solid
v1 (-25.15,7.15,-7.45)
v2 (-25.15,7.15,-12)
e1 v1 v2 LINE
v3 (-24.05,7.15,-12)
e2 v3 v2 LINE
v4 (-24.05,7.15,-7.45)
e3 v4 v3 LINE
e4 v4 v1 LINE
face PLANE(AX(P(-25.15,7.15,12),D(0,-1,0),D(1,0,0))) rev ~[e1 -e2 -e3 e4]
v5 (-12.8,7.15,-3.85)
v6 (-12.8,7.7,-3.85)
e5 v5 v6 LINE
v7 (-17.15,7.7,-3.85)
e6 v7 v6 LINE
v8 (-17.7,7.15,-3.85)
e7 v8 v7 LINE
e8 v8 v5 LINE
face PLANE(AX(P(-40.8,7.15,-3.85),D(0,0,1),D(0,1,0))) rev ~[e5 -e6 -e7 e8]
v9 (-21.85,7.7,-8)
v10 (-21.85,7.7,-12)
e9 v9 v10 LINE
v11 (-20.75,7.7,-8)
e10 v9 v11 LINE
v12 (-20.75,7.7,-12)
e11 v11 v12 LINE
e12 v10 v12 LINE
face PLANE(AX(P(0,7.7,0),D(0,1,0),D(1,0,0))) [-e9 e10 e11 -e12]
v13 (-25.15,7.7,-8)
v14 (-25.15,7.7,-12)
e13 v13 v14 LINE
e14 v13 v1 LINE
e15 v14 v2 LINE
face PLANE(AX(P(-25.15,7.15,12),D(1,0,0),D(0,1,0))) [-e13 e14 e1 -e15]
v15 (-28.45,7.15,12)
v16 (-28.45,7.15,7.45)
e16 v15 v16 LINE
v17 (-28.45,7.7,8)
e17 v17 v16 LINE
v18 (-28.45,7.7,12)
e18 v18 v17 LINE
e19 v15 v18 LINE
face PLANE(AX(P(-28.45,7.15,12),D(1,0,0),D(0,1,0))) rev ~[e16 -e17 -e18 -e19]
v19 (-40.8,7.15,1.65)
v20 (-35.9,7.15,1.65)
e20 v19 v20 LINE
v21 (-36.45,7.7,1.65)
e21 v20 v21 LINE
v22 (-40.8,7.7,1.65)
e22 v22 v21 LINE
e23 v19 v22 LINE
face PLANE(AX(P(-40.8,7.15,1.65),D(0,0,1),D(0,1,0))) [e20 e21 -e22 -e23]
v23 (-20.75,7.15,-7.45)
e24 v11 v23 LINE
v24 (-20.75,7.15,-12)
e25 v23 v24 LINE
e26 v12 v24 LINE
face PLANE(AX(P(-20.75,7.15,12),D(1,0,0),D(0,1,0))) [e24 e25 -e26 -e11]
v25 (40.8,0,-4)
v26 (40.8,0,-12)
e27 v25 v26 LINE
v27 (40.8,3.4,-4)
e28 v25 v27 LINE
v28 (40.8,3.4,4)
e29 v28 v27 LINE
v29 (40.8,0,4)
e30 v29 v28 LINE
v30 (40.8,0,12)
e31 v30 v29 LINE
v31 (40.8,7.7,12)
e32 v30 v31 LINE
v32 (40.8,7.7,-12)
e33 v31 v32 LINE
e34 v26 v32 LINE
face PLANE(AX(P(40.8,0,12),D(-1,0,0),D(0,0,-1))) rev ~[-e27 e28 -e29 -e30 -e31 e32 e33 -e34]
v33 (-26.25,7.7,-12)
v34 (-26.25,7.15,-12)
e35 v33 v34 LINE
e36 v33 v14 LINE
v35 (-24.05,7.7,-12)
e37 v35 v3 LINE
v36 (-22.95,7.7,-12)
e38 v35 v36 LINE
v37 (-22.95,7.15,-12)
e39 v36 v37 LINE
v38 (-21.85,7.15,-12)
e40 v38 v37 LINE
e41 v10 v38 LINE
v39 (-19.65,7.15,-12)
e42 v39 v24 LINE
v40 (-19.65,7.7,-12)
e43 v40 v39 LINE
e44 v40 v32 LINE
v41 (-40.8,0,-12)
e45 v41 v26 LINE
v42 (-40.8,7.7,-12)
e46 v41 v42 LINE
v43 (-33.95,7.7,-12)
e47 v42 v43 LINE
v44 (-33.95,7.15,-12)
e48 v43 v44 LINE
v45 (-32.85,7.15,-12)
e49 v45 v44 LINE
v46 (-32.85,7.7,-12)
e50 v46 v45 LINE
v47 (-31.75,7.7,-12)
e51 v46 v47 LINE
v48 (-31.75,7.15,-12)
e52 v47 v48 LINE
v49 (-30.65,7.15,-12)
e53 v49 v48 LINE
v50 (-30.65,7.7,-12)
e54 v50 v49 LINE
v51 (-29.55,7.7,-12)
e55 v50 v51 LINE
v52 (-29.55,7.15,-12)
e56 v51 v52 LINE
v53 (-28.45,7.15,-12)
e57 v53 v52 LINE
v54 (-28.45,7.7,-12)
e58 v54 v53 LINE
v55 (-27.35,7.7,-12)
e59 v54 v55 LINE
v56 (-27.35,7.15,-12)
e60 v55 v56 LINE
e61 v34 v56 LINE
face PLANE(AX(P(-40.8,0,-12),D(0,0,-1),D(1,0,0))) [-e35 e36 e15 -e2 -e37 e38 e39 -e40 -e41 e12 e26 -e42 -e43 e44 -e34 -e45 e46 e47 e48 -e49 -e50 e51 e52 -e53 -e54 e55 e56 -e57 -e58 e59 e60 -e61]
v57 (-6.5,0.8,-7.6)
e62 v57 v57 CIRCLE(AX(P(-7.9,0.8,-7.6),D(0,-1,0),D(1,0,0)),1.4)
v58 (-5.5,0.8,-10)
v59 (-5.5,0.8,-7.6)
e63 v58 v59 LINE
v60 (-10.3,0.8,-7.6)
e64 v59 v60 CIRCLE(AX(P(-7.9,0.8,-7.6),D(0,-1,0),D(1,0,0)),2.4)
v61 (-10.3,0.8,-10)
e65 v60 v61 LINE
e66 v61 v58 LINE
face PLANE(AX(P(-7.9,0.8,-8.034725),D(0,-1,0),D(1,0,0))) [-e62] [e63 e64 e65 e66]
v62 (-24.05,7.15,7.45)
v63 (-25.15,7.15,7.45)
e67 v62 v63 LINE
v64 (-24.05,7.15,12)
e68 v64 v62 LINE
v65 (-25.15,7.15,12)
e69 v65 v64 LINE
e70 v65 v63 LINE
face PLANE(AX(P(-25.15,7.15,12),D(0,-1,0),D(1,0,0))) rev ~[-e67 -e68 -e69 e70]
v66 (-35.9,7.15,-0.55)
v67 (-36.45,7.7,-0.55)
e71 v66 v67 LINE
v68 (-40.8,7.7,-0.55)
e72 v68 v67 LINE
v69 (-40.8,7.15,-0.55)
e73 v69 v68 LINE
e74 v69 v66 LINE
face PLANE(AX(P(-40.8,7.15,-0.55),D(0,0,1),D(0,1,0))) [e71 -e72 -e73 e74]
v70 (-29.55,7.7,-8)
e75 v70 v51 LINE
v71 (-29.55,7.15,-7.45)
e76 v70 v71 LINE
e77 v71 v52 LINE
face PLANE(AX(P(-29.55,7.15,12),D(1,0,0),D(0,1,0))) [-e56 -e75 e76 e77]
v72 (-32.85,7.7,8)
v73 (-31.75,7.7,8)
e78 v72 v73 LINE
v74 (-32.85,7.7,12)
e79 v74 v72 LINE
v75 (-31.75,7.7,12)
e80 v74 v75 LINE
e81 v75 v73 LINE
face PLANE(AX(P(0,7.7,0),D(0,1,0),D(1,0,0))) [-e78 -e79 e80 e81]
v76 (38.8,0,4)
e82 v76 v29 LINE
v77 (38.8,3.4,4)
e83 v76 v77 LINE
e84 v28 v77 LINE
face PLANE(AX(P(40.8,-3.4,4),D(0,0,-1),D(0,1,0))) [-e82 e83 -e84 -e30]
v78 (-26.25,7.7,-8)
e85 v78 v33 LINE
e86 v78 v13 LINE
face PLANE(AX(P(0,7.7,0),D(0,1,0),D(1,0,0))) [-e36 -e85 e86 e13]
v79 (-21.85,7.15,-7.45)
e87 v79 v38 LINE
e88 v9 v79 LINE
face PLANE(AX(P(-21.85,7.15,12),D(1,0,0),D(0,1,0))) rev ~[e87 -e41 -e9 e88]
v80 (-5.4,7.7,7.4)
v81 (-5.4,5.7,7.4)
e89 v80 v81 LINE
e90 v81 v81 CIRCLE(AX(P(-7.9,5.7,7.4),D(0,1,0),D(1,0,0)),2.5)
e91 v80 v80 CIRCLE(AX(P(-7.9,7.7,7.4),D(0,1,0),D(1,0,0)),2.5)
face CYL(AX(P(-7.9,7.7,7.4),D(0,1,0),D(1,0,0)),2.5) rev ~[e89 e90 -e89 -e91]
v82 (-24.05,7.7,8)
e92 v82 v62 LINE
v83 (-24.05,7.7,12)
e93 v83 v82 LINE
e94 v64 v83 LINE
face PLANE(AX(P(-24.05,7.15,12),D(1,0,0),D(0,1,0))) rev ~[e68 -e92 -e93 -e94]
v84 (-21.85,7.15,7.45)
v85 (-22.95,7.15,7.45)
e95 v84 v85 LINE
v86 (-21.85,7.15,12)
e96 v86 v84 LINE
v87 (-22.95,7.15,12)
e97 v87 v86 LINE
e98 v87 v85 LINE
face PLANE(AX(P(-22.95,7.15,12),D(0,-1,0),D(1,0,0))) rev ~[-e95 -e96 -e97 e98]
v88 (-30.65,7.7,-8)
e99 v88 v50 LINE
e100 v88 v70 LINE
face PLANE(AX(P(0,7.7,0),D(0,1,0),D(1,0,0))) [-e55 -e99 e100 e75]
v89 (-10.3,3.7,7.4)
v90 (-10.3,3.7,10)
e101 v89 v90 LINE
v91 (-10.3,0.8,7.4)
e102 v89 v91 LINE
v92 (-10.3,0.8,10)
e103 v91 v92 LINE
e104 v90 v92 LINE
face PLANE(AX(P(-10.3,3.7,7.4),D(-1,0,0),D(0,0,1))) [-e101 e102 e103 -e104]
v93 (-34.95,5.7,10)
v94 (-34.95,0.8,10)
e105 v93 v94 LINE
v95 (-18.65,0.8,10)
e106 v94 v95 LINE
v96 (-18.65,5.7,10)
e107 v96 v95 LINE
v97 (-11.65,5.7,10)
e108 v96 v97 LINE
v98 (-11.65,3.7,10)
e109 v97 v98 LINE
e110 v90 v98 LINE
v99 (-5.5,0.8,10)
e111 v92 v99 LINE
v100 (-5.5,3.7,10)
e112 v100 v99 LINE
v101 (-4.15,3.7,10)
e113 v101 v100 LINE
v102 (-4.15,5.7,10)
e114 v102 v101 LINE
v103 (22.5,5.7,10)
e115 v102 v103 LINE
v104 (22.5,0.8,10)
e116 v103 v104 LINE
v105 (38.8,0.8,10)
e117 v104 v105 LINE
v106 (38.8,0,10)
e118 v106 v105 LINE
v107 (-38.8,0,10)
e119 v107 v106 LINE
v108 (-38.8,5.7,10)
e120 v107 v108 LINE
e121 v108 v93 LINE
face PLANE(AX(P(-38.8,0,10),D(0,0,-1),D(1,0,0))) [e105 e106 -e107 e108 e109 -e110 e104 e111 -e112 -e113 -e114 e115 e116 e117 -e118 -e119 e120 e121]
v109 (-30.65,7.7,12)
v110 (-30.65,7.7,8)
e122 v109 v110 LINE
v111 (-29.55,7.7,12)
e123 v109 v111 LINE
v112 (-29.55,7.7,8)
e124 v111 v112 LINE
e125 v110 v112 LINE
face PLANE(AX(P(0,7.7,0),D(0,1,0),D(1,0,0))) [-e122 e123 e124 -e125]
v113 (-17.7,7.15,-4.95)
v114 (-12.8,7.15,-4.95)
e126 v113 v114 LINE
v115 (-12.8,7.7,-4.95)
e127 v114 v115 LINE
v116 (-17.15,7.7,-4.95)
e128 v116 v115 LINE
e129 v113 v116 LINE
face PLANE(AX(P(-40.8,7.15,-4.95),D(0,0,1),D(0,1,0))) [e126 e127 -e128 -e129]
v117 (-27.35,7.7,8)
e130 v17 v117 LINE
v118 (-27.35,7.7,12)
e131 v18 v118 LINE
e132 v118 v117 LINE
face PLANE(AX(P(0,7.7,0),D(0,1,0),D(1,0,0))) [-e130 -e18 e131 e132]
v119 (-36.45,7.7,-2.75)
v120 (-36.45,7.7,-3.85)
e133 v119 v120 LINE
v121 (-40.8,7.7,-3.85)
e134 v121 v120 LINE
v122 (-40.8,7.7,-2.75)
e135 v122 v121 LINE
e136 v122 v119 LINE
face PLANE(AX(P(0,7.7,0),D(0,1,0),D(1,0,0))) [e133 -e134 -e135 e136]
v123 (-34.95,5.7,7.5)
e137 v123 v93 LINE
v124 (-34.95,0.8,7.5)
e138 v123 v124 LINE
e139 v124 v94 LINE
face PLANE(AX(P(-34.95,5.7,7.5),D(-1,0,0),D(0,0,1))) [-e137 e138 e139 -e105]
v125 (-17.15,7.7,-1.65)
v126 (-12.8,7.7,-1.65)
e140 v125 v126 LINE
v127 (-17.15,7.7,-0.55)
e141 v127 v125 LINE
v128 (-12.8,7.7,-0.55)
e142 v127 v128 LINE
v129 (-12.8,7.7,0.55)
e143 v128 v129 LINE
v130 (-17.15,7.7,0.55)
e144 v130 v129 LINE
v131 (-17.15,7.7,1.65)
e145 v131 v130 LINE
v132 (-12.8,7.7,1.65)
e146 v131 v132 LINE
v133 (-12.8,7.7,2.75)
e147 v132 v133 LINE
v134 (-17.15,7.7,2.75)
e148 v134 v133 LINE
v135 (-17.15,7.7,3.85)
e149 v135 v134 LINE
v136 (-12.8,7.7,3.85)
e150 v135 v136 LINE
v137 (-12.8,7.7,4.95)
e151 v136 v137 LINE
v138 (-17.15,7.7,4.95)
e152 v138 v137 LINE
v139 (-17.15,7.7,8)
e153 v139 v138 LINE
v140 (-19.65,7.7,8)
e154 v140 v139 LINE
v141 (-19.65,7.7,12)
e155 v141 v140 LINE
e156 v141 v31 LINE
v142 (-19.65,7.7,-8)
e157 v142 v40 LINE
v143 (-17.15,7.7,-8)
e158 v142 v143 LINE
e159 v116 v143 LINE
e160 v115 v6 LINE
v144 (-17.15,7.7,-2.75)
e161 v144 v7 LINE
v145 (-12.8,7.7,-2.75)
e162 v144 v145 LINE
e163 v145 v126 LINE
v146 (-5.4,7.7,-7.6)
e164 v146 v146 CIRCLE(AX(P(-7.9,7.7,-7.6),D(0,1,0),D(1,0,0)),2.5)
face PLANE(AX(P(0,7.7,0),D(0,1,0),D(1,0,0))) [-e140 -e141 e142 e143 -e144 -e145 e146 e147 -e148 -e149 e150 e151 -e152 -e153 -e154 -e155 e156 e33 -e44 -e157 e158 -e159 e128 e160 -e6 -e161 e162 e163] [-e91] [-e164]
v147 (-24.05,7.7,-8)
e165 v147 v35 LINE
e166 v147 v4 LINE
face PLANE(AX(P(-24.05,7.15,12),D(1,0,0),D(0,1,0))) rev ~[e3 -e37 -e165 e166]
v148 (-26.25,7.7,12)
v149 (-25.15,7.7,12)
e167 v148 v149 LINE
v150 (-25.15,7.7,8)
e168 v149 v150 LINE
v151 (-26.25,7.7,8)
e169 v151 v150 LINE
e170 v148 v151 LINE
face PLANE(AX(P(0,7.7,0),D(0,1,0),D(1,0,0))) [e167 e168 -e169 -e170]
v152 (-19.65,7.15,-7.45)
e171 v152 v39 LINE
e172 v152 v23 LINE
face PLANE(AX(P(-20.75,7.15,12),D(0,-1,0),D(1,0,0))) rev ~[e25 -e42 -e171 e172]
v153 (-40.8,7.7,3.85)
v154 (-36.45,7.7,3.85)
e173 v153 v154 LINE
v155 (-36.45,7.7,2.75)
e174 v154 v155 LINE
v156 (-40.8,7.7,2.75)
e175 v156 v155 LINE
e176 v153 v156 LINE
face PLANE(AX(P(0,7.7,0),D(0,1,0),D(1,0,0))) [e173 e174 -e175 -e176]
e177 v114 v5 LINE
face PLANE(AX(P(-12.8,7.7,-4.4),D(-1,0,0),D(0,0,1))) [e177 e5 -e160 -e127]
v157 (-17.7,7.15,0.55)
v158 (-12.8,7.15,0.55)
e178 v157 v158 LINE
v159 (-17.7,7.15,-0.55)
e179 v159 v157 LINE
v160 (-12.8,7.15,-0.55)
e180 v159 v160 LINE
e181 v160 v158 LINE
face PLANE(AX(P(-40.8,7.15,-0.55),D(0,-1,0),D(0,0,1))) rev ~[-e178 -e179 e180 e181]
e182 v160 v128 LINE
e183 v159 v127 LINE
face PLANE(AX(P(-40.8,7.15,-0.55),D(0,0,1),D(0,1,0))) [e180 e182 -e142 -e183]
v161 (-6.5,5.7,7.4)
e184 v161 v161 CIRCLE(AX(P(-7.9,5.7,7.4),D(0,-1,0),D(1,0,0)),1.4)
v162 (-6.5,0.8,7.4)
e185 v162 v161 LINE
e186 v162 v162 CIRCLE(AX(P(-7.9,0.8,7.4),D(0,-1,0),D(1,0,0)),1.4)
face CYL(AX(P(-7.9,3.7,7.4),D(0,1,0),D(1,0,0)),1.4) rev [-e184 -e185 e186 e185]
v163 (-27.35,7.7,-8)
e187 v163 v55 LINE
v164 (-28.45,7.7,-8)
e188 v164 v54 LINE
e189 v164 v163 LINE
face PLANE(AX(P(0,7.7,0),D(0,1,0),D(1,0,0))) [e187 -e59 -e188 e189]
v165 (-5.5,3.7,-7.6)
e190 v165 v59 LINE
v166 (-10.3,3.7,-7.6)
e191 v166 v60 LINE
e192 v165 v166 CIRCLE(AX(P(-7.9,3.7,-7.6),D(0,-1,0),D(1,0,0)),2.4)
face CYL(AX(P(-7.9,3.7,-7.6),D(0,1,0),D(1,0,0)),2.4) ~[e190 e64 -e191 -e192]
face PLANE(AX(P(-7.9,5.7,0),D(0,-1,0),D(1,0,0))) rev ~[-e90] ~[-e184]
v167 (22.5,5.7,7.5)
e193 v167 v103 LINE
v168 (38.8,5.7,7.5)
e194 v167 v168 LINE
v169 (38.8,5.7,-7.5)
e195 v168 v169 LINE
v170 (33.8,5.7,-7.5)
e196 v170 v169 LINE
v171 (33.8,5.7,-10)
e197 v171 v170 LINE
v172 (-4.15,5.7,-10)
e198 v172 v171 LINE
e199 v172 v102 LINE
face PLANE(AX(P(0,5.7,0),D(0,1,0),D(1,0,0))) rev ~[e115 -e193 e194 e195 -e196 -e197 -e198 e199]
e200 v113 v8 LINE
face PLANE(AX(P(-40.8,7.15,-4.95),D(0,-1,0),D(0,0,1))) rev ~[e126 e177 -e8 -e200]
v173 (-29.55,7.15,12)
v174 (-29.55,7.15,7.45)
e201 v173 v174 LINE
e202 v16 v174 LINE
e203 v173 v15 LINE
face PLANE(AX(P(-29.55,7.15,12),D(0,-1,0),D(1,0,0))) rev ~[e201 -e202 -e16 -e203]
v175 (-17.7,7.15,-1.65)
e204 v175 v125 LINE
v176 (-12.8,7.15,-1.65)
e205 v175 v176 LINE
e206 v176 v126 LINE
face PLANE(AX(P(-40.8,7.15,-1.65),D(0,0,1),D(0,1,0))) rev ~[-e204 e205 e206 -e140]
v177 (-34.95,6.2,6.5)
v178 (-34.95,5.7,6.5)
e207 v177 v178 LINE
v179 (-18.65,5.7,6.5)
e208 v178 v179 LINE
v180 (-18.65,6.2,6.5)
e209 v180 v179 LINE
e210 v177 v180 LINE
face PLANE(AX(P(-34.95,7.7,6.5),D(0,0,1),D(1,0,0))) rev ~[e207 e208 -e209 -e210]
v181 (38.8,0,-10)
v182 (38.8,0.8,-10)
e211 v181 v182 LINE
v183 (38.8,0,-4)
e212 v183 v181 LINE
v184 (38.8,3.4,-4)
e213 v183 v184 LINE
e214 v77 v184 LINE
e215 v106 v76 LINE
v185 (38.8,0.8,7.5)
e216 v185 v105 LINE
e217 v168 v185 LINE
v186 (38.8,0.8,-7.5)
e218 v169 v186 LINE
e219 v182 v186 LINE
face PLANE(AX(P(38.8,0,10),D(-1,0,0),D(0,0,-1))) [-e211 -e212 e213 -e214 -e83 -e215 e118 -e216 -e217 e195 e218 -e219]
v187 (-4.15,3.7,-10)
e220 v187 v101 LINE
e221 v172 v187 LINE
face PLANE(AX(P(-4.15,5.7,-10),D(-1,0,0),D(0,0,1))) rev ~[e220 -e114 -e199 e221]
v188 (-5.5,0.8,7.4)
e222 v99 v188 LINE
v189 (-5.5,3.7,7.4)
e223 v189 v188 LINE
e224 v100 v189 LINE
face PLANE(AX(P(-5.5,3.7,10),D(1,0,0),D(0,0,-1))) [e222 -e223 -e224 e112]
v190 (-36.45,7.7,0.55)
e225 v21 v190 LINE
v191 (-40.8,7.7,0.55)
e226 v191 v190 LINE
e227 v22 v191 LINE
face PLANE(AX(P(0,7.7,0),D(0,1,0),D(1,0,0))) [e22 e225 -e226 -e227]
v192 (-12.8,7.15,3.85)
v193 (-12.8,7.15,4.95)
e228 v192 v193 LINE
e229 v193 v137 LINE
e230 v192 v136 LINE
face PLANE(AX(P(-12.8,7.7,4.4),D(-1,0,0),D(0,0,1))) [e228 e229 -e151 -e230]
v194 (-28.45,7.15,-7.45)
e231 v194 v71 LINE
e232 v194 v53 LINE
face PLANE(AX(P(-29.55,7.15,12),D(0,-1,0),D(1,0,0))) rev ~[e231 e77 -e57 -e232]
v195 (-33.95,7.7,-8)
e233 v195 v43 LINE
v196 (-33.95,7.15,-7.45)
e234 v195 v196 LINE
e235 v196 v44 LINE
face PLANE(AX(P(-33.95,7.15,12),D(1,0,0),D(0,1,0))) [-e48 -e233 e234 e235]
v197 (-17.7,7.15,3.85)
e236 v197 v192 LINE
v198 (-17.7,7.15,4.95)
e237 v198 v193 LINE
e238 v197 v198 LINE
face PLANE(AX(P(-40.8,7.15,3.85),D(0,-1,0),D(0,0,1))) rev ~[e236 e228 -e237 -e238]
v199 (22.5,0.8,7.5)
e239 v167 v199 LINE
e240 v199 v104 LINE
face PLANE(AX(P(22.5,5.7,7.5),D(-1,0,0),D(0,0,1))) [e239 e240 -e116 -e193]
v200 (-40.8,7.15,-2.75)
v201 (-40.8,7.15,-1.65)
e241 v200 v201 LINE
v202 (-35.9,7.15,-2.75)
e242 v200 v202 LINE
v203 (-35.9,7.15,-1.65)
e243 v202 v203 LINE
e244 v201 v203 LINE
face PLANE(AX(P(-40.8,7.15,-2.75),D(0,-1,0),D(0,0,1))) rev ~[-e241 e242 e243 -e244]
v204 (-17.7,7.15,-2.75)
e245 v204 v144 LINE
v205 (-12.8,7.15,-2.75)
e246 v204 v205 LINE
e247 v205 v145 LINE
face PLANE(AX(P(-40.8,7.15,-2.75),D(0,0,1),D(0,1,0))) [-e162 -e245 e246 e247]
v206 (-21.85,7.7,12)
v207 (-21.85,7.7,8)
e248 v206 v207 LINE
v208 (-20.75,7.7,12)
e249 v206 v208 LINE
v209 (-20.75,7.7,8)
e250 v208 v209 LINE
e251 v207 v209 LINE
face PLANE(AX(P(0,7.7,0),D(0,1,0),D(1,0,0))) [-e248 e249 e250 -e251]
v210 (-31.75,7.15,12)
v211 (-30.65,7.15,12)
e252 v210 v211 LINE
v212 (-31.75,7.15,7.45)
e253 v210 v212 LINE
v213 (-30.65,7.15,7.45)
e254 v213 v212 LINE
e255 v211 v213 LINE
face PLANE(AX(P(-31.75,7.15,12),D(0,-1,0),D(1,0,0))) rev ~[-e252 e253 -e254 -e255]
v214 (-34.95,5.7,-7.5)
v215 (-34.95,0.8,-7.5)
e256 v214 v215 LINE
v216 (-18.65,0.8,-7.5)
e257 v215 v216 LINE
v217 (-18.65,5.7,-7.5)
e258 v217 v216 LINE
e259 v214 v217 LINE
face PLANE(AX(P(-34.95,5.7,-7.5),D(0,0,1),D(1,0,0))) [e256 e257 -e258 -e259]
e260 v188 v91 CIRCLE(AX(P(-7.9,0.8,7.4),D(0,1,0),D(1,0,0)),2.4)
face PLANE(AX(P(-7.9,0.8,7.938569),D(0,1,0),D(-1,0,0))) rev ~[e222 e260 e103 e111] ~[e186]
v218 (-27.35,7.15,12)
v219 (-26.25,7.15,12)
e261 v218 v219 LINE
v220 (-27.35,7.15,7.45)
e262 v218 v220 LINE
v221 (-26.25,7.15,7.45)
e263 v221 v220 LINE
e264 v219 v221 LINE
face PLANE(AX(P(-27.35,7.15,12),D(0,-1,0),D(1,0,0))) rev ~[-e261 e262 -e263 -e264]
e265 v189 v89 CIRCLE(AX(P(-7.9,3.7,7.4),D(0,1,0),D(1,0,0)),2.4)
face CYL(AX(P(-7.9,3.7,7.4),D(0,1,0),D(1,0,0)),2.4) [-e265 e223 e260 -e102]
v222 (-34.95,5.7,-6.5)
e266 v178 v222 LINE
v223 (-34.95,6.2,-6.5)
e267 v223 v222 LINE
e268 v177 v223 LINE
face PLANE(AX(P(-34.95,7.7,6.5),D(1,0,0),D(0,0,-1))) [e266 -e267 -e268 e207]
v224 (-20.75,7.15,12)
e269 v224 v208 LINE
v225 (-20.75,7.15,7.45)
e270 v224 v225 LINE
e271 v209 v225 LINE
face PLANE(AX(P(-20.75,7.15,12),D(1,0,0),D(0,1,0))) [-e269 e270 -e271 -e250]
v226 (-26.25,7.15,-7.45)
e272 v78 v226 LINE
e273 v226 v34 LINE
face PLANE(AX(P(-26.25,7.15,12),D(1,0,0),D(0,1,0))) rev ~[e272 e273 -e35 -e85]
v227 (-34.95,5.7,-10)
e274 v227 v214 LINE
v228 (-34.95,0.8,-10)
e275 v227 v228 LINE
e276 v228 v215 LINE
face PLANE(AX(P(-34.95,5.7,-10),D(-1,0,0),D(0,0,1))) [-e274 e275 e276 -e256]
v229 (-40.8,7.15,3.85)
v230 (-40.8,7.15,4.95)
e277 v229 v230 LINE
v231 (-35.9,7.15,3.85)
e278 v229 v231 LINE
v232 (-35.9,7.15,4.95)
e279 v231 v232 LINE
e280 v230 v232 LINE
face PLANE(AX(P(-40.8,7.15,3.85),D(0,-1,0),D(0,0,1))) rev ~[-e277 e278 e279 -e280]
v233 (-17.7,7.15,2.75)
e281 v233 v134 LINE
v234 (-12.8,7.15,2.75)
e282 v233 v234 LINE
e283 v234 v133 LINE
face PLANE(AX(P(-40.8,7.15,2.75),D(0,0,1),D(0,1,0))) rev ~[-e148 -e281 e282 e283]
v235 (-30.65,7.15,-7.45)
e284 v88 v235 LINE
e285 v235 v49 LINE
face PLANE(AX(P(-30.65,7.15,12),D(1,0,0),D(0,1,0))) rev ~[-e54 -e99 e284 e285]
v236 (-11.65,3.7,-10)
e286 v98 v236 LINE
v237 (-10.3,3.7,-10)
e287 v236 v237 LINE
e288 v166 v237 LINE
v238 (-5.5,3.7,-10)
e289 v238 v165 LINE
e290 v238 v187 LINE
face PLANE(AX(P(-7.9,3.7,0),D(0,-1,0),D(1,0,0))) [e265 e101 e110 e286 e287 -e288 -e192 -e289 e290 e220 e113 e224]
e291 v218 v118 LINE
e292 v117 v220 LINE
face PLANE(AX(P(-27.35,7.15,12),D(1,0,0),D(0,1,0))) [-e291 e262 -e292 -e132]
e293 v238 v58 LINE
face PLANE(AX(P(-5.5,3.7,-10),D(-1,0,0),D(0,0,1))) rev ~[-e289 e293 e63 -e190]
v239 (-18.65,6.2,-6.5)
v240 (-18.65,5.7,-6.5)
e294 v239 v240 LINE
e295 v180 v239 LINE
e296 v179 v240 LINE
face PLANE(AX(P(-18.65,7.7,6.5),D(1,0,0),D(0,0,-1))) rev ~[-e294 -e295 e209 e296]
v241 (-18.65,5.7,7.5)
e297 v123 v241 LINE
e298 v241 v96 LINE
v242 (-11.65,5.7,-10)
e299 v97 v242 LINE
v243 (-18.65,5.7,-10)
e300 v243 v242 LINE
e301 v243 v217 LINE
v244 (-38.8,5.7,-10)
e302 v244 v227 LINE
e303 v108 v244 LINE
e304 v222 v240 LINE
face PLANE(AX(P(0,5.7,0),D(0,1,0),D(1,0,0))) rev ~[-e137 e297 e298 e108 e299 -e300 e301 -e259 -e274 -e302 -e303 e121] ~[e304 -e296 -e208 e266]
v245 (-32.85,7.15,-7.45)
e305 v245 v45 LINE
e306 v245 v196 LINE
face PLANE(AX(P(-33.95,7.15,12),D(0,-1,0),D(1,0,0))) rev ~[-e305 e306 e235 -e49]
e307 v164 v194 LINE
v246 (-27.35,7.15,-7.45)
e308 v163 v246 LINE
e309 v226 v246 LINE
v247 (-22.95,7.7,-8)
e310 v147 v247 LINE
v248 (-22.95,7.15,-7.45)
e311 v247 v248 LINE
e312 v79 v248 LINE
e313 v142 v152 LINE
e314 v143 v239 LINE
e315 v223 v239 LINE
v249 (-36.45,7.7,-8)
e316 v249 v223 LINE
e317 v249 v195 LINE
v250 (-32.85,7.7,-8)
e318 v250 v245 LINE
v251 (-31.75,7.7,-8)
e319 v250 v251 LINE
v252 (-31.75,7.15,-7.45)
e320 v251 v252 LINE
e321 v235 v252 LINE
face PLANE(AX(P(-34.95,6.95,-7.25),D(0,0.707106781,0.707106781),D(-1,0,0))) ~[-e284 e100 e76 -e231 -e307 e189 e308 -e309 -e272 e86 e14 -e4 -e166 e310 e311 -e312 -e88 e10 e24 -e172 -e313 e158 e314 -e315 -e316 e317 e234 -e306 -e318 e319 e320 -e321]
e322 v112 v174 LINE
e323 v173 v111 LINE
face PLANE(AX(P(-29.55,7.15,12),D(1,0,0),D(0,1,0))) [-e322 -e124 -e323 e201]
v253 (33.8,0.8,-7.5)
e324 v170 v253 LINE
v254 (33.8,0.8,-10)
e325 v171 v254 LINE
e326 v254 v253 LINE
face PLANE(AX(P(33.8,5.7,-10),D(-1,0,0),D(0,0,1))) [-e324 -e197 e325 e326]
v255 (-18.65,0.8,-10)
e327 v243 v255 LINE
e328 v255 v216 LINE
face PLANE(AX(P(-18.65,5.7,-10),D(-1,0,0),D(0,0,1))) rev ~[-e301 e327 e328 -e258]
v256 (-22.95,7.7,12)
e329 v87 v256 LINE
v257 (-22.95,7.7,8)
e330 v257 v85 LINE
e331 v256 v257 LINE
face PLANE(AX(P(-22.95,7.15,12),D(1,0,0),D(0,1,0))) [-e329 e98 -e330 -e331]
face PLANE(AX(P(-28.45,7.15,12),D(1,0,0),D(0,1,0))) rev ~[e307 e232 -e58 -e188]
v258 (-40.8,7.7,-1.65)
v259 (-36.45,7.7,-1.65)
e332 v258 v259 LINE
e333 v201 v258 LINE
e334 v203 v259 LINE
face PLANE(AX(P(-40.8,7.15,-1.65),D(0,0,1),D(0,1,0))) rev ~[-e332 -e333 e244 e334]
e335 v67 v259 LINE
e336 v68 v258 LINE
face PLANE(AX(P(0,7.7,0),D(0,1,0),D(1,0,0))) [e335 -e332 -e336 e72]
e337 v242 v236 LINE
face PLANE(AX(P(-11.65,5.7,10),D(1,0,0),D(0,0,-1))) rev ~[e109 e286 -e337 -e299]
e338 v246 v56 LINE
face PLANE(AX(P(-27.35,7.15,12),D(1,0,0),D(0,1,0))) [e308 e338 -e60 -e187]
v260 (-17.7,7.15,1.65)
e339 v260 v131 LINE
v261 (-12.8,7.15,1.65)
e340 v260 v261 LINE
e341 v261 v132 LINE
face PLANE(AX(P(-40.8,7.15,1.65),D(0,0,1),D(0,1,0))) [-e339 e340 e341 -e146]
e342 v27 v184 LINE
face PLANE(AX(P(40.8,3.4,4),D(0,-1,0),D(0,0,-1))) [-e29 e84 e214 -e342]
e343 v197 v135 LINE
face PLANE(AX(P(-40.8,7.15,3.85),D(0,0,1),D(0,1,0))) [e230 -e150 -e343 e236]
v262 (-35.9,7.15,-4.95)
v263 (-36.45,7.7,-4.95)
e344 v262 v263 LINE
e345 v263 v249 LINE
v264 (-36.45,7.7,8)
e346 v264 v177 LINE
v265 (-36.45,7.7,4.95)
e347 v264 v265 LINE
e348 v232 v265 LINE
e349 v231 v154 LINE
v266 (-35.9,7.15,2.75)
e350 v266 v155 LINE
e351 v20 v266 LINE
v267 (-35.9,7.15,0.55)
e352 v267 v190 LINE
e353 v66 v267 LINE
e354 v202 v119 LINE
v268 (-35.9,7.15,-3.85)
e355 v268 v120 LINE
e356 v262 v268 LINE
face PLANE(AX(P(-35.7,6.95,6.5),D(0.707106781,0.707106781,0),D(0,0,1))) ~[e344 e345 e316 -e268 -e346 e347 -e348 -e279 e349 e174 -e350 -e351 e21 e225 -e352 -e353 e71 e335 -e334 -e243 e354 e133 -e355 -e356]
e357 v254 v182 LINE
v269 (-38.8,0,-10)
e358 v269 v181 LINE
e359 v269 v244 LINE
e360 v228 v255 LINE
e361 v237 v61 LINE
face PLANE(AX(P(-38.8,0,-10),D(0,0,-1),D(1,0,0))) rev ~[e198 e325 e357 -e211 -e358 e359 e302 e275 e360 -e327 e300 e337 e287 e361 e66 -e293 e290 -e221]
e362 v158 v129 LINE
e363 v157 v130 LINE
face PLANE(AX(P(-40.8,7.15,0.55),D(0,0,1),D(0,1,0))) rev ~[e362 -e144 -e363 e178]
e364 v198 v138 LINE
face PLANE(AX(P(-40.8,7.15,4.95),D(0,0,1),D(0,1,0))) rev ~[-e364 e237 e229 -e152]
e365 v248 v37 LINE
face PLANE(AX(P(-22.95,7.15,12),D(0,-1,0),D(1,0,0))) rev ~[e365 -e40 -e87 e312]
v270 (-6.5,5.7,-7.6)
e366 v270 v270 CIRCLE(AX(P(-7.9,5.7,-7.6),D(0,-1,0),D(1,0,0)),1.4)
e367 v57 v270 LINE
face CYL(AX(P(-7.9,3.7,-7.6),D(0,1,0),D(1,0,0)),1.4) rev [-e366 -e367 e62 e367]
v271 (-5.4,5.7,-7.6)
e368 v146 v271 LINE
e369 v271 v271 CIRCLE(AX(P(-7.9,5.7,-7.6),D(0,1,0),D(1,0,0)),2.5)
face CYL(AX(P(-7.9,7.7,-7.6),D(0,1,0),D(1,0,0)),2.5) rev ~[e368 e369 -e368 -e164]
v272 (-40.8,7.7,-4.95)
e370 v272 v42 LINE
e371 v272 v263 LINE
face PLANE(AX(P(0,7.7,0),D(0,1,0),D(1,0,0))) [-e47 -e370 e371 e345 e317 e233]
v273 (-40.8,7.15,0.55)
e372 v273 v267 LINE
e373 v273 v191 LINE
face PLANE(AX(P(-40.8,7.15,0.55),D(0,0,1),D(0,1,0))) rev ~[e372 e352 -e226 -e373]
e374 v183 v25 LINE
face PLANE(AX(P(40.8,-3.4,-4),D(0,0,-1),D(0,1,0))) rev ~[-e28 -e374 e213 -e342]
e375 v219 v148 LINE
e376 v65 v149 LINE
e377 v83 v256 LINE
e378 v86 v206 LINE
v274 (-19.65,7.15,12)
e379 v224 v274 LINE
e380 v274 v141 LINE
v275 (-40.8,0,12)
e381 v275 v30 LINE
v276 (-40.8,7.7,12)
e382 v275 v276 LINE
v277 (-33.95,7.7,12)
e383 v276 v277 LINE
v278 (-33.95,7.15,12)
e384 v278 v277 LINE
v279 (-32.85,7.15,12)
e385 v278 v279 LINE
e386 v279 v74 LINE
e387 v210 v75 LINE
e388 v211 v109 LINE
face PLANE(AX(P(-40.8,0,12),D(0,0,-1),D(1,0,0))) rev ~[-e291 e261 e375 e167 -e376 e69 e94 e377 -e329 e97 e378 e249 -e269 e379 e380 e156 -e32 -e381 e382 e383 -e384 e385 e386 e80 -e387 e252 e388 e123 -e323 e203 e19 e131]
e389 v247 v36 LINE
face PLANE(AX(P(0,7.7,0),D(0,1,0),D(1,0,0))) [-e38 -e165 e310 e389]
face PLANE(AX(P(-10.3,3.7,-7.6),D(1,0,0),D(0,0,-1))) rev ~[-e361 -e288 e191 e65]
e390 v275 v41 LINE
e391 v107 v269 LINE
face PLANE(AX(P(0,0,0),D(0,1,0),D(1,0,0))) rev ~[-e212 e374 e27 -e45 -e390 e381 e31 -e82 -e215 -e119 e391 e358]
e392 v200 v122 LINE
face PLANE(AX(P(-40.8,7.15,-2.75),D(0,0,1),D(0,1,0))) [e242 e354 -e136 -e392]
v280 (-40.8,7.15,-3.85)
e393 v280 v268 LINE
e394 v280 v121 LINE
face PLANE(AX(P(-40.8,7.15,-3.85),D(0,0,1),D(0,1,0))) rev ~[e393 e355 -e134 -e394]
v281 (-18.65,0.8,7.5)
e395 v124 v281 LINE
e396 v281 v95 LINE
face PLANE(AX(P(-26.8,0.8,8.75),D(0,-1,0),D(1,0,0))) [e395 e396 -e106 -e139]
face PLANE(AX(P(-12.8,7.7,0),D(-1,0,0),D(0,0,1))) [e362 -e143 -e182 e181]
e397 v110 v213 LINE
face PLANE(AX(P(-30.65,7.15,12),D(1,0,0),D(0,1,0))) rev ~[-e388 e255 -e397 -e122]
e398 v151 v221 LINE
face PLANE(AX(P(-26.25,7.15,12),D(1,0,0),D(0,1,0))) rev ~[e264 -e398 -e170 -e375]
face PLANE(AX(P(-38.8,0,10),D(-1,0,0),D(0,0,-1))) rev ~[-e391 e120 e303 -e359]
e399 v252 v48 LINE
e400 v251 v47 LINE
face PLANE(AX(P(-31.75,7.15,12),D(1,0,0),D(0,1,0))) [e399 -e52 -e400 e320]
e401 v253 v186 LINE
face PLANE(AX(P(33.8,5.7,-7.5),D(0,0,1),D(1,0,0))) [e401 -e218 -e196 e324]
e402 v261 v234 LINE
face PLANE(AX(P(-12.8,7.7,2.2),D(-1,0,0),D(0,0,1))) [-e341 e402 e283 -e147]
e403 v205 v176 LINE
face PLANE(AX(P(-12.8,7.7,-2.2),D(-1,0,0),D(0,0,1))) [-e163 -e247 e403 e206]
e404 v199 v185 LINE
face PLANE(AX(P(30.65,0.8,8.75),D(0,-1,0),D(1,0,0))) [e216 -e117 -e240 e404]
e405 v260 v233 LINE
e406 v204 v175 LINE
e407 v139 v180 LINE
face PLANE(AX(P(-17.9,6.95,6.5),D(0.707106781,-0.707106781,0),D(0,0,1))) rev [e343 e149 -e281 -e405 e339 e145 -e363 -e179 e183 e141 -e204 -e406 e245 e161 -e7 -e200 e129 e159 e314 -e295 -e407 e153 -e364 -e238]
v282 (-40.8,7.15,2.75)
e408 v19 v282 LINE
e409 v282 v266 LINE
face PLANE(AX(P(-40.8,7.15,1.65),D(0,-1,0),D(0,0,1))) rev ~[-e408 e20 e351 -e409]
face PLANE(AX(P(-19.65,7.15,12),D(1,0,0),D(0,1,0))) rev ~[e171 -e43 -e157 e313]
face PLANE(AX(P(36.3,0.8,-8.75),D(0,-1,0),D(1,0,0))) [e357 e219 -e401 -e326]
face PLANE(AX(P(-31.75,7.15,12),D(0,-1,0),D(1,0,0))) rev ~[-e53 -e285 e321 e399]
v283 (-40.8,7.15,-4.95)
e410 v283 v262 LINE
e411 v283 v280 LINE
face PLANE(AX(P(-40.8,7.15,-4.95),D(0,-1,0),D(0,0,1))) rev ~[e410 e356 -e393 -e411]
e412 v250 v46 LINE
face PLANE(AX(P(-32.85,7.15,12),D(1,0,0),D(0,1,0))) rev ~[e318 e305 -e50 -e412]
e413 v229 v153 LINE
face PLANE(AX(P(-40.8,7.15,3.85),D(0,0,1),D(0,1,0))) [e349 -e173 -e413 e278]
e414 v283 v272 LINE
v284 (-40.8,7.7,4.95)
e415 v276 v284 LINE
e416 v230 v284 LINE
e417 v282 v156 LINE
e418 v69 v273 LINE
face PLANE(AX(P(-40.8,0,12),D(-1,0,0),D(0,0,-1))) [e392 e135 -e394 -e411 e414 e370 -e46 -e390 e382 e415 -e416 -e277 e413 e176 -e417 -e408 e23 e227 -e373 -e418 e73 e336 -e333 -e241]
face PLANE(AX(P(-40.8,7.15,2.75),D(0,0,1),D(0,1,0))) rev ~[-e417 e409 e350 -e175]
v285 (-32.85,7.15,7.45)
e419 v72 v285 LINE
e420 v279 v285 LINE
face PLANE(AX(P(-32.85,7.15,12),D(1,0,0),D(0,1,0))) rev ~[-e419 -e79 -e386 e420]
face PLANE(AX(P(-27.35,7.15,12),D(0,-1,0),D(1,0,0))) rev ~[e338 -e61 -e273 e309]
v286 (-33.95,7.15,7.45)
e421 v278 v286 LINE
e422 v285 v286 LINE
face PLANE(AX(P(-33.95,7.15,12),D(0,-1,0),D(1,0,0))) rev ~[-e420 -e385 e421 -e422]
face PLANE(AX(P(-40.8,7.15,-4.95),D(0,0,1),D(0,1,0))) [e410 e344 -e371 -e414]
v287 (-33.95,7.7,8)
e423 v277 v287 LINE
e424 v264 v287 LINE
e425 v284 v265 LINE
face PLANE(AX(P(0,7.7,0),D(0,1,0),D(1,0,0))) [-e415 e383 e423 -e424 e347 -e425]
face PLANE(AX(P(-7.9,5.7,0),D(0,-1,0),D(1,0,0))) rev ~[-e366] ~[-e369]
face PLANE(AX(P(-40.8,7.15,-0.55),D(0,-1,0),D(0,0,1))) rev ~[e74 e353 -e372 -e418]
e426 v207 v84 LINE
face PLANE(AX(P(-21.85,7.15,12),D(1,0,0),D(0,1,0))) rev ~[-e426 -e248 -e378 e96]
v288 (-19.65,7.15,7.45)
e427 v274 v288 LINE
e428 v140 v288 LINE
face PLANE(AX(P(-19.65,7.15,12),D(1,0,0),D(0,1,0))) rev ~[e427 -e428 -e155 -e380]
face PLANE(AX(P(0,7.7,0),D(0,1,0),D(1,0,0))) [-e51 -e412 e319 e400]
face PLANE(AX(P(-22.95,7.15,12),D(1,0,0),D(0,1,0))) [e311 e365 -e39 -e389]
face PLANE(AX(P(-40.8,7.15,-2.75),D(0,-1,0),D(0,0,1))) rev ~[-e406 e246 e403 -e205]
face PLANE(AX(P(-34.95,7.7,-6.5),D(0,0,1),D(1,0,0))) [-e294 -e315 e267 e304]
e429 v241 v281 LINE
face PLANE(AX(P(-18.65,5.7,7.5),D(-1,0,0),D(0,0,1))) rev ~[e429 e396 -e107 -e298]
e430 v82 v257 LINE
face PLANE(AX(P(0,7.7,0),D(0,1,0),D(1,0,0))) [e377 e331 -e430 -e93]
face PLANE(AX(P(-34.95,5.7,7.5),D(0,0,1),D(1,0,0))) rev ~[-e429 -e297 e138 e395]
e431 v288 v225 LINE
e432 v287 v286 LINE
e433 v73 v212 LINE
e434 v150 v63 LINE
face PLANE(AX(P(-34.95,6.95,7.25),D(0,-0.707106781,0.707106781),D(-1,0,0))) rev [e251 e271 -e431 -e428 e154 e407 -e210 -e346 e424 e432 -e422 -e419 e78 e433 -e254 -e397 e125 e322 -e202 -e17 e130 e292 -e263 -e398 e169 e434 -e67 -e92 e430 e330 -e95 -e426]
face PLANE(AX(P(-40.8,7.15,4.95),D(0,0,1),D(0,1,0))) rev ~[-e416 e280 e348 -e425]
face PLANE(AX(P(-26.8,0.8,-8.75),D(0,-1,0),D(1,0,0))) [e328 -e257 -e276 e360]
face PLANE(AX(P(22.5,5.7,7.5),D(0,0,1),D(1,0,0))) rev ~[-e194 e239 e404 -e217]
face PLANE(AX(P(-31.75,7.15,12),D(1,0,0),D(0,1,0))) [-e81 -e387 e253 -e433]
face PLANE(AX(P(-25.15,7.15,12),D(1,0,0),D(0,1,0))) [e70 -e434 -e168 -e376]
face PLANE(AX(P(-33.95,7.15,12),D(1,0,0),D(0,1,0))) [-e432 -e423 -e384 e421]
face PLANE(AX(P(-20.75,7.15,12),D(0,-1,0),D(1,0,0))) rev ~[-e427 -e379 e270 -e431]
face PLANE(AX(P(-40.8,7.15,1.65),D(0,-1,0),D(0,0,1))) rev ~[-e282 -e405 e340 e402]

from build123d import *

# Parameters (mm, degrees)
SKETCH2_W           = 81.6
SKETCH2_H           = 24
SKETCH2_W_2         = 77.6
SKETCH2_H_2         = 20
BOSS_EXTRUDE1_DEPTH = 7.7
SKETCH3_W           = 77.6
SKETCH3_H           = 20
BOSS_EXTRUDE2_DEPTH = 2
SKETCH4_W           = 16.3
SKETCH4_H           = 13
CUT_EXTRUDE1_DEPTH  = 8.7
CUT_EXTRUDE2_REACH  = 83.6
SKETCH5_W           = 8
SKETCH5_H           = 6.8
SKETCH6_W           = 16.3
SKETCH6_H           = 2.5
SKETCH6_W_2         = 5
BOSS_EXTRUDE3_DEPTH = 4.9
SKETCH8_R           = 2.5
CUT_EXTRUDE3_DEPTH  = 2
SKETCH9_R           = 1.4
BOSS_EXTRUDE4_DEPTH = 2
SKETCH10_R          = 1.4
BOSS_EXTRUDE5_DEPTH = 2.9
CHAMFER1_SIZE       = 1.5
SKETCH11_W          = 1.1
SKETCH11_H          = 1.1
CUT_EXTRUDE4_DEPTH  = 25
LPATTERN1_COUNT     = 4
LPATTERN1_PITCH     = 2.2
LPATTERN2_COUNT     = 4
LPATTERN2_PITCH     = 2.2
SKETCH12_W          = 1.1
SKETCH12_H          = 1.1
CUT_EXTRUDE5_DEPTH  = 28
LPATTERN3_COUNT     = 3
LPATTERN3_PITCH     = 2.2
LPATTERN4_COUNT     = 3
LPATTERN4_PITCH     = 2.2


with BuildPart() as part:
    # Sketch2 → Boss-Extrude1 (new body)
    with BuildSketch(Plane(origin=(0, 0, 0), x_dir=(1, 0, 0), z_dir=(0, 1, 0))):
        Rectangle(SKETCH2_W, SKETCH2_H)
        Rectangle(SKETCH2_W_2, SKETCH2_H_2, mode=Mode.SUBTRACT)
    extrude(amount=BOSS_EXTRUDE1_DEPTH)

    # Sketch3 → Boss-Extrude2 (add)
    with BuildSketch(Plane(origin=(0, 7.7, 0), x_dir=(1, 0, 0), z_dir=(0, 1, 0))):
        Rectangle(SKETCH3_W, SKETCH3_H)
    extrude(amount=-BOSS_EXTRUDE2_DEPTH)

    # Sketch4 → Cut-Extrude1 (cut, through all)
    with BuildSketch(Plane(origin=(0, 7.7, 0), x_dir=(1, 0, 0), z_dir=(0, 1, 0))):
        with Locations((-26.8, 0)):
            Rectangle(SKETCH4_W, SKETCH4_H)
    extrude(amount=-CUT_EXTRUDE1_DEPTH, mode=Mode.SUBTRACT)

    # Sketch5 → Cut-Extrude2 (cut, up to next)
    with BuildSketch(Plane(origin=(40.8, 0, 0), x_dir=(0, 0, -1), z_dir=(1, 0, 0)), mode=Mode.PRIVATE) as cut_extrude2_sk1:
        Rectangle(SKETCH5_W, SKETCH5_H)
    cut_extrude2_tool1 = extrude(cut_extrude2_sk1.sketch, amount=-CUT_EXTRUDE2_REACH, mode=Mode.PRIVATE) & part.part
    add(cut_extrude2_tool1.solids().sort_by_distance((40.8, 0, 0))[0], mode=Mode.SUBTRACT)

    # Sketch6 → Boss-Extrude3 (add)
    with BuildSketch(Plane.XZ.offset(-5.7)):
        with Locations((-26.8, 8.75)):
            Rectangle(SKETCH6_W, SKETCH6_H)
        with Locations((-26.8, -8.75)):
            Rectangle(SKETCH6_W, SKETCH6_H)
        with Locations((30.65, 8.75)):
            Rectangle(SKETCH6_W, SKETCH6_H)
        with Locations((36.3, -8.75)):
            Rectangle(SKETCH6_W_2, SKETCH6_H)
    extrude(amount=BOSS_EXTRUDE3_DEPTH)

    # Sketch8 → Cut-Extrude3 (cut)
    with BuildSketch(Plane(origin=(0, 7.7, 0), x_dir=(1, 0, 0), z_dir=(0, 1, 0))):
        with Locations((-7.9, 7.6)):
            Circle(SKETCH8_R)
        with Locations((-7.9, -7.4)):
            Circle(SKETCH8_R)
    extrude(amount=-CUT_EXTRUDE3_DEPTH, mode=Mode.SUBTRACT)

    # Sketch9 → Boss-Extrude4 (add)
    with BuildSketch(Plane.XZ.offset(-5.7)):
        Polygon((-4.15, 4.8), (-4.15, 10), (-11.65, 10), (-11.65, 4.8), (-11.65, -5.2), (-11.65, -10), (-4.15, -10), (-4.15, -5.2), align=None)
        with Locations((-7.9, 7.4)):
            Circle(SKETCH9_R, mode=Mode.SUBTRACT)
        with Locations((-7.9, -7.6)):
            Circle(SKETCH9_R, mode=Mode.SUBTRACT)
    extrude(amount=BOSS_EXTRUDE4_DEPTH)

    # Sketch10 → Boss-Extrude5 (add)
    with BuildSketch(Plane.XZ.offset(-3.7)):
        with BuildLine():
            Line((-10.3, 7.4), (-10.3, 10))
            Line((-10.3, 10), (-5.5, 10))
            Line((-5.5, 10), (-5.5, 7.4))
            ThreePointArc((-5.5, 7.4), (-7.9, 5), (-10.3, 7.4))
        make_face()
        with Locations((-7.9, 7.4)):
            Circle(SKETCH10_R, mode=Mode.SUBTRACT)
        with BuildLine():
            Line((-10.3, -7.6), (-10.3, -10))
            Line((-10.3, -10), (-5.5, -10))
            Line((-5.5, -10), (-5.5, -7.6))
            ThreePointArc((-5.5, -7.6), (-7.9, -5.2), (-10.3, -7.6))
        make_face()
        with Locations((-7.9, -7.6)):
            Circle(SKETCH10_R, mode=Mode.SUBTRACT)
    extrude(amount=BOSS_EXTRUDE5_DEPTH)

    # Chamfer1
    chamfer1_edges = [part.edges().sort_by_distance(p)[0] for p in [
        (-18.65, 7.7, 0),
        (-26.8, 7.7, -6.5),
        (-34.95, 7.7, 0),
        (-26.8, 7.7, 6.5),
    ]]
    chamfer(chamfer1_edges, length=CHAMFER1_SIZE)

    # Sketch11 → Cut-Extrude4 (cut, through all)
    with BuildSketch(Plane.XY.offset(12)):
        with Locations((-26.8, 7.7)):
            Rectangle(SKETCH11_W, SKETCH11_H)
    cut_extrude4 = extrude(amount=-CUT_EXTRUDE4_DEPTH, mode=Mode.SUBTRACT)

    # LPattern1: Cut-Extrude4 ×4
    with Locations(*[(i * LPATTERN1_PITCH, 0, 0) for i in range(1, LPATTERN1_COUNT)]):
        add(cut_extrude4, mode=Mode.SUBTRACT)

    # LPattern2: Cut-Extrude4 ×4
    with Locations(*[(-i * LPATTERN2_PITCH, 0, 0) for i in range(1, LPATTERN2_COUNT)]):
        add(cut_extrude4, mode=Mode.SUBTRACT)

    # Sketch12 → Cut-Extrude5 (cut)
    with BuildSketch(Plane.ZY.offset(40.8)):
        with Locations((0, 7.7)):
            Rectangle(SKETCH12_W, SKETCH12_H)
    cut_extrude5 = extrude(amount=-CUT_EXTRUDE5_DEPTH, mode=Mode.SUBTRACT)

    # LPattern3: Cut-Extrude5 ×3
    with Locations(*[(0, 0, i * LPATTERN3_PITCH) for i in range(1, LPATTERN3_COUNT)]):
        add(cut_extrude5, mode=Mode.SUBTRACT)

    # LPattern4: Cut-Extrude5 ×3
    with Locations(*[(0, 0, -i * LPATTERN4_PITCH) for i in range(1, LPATTERN4_COUNT)]):
        add(cut_extrude5, mode=Mode.SUBTRACT)


solid = part.part
